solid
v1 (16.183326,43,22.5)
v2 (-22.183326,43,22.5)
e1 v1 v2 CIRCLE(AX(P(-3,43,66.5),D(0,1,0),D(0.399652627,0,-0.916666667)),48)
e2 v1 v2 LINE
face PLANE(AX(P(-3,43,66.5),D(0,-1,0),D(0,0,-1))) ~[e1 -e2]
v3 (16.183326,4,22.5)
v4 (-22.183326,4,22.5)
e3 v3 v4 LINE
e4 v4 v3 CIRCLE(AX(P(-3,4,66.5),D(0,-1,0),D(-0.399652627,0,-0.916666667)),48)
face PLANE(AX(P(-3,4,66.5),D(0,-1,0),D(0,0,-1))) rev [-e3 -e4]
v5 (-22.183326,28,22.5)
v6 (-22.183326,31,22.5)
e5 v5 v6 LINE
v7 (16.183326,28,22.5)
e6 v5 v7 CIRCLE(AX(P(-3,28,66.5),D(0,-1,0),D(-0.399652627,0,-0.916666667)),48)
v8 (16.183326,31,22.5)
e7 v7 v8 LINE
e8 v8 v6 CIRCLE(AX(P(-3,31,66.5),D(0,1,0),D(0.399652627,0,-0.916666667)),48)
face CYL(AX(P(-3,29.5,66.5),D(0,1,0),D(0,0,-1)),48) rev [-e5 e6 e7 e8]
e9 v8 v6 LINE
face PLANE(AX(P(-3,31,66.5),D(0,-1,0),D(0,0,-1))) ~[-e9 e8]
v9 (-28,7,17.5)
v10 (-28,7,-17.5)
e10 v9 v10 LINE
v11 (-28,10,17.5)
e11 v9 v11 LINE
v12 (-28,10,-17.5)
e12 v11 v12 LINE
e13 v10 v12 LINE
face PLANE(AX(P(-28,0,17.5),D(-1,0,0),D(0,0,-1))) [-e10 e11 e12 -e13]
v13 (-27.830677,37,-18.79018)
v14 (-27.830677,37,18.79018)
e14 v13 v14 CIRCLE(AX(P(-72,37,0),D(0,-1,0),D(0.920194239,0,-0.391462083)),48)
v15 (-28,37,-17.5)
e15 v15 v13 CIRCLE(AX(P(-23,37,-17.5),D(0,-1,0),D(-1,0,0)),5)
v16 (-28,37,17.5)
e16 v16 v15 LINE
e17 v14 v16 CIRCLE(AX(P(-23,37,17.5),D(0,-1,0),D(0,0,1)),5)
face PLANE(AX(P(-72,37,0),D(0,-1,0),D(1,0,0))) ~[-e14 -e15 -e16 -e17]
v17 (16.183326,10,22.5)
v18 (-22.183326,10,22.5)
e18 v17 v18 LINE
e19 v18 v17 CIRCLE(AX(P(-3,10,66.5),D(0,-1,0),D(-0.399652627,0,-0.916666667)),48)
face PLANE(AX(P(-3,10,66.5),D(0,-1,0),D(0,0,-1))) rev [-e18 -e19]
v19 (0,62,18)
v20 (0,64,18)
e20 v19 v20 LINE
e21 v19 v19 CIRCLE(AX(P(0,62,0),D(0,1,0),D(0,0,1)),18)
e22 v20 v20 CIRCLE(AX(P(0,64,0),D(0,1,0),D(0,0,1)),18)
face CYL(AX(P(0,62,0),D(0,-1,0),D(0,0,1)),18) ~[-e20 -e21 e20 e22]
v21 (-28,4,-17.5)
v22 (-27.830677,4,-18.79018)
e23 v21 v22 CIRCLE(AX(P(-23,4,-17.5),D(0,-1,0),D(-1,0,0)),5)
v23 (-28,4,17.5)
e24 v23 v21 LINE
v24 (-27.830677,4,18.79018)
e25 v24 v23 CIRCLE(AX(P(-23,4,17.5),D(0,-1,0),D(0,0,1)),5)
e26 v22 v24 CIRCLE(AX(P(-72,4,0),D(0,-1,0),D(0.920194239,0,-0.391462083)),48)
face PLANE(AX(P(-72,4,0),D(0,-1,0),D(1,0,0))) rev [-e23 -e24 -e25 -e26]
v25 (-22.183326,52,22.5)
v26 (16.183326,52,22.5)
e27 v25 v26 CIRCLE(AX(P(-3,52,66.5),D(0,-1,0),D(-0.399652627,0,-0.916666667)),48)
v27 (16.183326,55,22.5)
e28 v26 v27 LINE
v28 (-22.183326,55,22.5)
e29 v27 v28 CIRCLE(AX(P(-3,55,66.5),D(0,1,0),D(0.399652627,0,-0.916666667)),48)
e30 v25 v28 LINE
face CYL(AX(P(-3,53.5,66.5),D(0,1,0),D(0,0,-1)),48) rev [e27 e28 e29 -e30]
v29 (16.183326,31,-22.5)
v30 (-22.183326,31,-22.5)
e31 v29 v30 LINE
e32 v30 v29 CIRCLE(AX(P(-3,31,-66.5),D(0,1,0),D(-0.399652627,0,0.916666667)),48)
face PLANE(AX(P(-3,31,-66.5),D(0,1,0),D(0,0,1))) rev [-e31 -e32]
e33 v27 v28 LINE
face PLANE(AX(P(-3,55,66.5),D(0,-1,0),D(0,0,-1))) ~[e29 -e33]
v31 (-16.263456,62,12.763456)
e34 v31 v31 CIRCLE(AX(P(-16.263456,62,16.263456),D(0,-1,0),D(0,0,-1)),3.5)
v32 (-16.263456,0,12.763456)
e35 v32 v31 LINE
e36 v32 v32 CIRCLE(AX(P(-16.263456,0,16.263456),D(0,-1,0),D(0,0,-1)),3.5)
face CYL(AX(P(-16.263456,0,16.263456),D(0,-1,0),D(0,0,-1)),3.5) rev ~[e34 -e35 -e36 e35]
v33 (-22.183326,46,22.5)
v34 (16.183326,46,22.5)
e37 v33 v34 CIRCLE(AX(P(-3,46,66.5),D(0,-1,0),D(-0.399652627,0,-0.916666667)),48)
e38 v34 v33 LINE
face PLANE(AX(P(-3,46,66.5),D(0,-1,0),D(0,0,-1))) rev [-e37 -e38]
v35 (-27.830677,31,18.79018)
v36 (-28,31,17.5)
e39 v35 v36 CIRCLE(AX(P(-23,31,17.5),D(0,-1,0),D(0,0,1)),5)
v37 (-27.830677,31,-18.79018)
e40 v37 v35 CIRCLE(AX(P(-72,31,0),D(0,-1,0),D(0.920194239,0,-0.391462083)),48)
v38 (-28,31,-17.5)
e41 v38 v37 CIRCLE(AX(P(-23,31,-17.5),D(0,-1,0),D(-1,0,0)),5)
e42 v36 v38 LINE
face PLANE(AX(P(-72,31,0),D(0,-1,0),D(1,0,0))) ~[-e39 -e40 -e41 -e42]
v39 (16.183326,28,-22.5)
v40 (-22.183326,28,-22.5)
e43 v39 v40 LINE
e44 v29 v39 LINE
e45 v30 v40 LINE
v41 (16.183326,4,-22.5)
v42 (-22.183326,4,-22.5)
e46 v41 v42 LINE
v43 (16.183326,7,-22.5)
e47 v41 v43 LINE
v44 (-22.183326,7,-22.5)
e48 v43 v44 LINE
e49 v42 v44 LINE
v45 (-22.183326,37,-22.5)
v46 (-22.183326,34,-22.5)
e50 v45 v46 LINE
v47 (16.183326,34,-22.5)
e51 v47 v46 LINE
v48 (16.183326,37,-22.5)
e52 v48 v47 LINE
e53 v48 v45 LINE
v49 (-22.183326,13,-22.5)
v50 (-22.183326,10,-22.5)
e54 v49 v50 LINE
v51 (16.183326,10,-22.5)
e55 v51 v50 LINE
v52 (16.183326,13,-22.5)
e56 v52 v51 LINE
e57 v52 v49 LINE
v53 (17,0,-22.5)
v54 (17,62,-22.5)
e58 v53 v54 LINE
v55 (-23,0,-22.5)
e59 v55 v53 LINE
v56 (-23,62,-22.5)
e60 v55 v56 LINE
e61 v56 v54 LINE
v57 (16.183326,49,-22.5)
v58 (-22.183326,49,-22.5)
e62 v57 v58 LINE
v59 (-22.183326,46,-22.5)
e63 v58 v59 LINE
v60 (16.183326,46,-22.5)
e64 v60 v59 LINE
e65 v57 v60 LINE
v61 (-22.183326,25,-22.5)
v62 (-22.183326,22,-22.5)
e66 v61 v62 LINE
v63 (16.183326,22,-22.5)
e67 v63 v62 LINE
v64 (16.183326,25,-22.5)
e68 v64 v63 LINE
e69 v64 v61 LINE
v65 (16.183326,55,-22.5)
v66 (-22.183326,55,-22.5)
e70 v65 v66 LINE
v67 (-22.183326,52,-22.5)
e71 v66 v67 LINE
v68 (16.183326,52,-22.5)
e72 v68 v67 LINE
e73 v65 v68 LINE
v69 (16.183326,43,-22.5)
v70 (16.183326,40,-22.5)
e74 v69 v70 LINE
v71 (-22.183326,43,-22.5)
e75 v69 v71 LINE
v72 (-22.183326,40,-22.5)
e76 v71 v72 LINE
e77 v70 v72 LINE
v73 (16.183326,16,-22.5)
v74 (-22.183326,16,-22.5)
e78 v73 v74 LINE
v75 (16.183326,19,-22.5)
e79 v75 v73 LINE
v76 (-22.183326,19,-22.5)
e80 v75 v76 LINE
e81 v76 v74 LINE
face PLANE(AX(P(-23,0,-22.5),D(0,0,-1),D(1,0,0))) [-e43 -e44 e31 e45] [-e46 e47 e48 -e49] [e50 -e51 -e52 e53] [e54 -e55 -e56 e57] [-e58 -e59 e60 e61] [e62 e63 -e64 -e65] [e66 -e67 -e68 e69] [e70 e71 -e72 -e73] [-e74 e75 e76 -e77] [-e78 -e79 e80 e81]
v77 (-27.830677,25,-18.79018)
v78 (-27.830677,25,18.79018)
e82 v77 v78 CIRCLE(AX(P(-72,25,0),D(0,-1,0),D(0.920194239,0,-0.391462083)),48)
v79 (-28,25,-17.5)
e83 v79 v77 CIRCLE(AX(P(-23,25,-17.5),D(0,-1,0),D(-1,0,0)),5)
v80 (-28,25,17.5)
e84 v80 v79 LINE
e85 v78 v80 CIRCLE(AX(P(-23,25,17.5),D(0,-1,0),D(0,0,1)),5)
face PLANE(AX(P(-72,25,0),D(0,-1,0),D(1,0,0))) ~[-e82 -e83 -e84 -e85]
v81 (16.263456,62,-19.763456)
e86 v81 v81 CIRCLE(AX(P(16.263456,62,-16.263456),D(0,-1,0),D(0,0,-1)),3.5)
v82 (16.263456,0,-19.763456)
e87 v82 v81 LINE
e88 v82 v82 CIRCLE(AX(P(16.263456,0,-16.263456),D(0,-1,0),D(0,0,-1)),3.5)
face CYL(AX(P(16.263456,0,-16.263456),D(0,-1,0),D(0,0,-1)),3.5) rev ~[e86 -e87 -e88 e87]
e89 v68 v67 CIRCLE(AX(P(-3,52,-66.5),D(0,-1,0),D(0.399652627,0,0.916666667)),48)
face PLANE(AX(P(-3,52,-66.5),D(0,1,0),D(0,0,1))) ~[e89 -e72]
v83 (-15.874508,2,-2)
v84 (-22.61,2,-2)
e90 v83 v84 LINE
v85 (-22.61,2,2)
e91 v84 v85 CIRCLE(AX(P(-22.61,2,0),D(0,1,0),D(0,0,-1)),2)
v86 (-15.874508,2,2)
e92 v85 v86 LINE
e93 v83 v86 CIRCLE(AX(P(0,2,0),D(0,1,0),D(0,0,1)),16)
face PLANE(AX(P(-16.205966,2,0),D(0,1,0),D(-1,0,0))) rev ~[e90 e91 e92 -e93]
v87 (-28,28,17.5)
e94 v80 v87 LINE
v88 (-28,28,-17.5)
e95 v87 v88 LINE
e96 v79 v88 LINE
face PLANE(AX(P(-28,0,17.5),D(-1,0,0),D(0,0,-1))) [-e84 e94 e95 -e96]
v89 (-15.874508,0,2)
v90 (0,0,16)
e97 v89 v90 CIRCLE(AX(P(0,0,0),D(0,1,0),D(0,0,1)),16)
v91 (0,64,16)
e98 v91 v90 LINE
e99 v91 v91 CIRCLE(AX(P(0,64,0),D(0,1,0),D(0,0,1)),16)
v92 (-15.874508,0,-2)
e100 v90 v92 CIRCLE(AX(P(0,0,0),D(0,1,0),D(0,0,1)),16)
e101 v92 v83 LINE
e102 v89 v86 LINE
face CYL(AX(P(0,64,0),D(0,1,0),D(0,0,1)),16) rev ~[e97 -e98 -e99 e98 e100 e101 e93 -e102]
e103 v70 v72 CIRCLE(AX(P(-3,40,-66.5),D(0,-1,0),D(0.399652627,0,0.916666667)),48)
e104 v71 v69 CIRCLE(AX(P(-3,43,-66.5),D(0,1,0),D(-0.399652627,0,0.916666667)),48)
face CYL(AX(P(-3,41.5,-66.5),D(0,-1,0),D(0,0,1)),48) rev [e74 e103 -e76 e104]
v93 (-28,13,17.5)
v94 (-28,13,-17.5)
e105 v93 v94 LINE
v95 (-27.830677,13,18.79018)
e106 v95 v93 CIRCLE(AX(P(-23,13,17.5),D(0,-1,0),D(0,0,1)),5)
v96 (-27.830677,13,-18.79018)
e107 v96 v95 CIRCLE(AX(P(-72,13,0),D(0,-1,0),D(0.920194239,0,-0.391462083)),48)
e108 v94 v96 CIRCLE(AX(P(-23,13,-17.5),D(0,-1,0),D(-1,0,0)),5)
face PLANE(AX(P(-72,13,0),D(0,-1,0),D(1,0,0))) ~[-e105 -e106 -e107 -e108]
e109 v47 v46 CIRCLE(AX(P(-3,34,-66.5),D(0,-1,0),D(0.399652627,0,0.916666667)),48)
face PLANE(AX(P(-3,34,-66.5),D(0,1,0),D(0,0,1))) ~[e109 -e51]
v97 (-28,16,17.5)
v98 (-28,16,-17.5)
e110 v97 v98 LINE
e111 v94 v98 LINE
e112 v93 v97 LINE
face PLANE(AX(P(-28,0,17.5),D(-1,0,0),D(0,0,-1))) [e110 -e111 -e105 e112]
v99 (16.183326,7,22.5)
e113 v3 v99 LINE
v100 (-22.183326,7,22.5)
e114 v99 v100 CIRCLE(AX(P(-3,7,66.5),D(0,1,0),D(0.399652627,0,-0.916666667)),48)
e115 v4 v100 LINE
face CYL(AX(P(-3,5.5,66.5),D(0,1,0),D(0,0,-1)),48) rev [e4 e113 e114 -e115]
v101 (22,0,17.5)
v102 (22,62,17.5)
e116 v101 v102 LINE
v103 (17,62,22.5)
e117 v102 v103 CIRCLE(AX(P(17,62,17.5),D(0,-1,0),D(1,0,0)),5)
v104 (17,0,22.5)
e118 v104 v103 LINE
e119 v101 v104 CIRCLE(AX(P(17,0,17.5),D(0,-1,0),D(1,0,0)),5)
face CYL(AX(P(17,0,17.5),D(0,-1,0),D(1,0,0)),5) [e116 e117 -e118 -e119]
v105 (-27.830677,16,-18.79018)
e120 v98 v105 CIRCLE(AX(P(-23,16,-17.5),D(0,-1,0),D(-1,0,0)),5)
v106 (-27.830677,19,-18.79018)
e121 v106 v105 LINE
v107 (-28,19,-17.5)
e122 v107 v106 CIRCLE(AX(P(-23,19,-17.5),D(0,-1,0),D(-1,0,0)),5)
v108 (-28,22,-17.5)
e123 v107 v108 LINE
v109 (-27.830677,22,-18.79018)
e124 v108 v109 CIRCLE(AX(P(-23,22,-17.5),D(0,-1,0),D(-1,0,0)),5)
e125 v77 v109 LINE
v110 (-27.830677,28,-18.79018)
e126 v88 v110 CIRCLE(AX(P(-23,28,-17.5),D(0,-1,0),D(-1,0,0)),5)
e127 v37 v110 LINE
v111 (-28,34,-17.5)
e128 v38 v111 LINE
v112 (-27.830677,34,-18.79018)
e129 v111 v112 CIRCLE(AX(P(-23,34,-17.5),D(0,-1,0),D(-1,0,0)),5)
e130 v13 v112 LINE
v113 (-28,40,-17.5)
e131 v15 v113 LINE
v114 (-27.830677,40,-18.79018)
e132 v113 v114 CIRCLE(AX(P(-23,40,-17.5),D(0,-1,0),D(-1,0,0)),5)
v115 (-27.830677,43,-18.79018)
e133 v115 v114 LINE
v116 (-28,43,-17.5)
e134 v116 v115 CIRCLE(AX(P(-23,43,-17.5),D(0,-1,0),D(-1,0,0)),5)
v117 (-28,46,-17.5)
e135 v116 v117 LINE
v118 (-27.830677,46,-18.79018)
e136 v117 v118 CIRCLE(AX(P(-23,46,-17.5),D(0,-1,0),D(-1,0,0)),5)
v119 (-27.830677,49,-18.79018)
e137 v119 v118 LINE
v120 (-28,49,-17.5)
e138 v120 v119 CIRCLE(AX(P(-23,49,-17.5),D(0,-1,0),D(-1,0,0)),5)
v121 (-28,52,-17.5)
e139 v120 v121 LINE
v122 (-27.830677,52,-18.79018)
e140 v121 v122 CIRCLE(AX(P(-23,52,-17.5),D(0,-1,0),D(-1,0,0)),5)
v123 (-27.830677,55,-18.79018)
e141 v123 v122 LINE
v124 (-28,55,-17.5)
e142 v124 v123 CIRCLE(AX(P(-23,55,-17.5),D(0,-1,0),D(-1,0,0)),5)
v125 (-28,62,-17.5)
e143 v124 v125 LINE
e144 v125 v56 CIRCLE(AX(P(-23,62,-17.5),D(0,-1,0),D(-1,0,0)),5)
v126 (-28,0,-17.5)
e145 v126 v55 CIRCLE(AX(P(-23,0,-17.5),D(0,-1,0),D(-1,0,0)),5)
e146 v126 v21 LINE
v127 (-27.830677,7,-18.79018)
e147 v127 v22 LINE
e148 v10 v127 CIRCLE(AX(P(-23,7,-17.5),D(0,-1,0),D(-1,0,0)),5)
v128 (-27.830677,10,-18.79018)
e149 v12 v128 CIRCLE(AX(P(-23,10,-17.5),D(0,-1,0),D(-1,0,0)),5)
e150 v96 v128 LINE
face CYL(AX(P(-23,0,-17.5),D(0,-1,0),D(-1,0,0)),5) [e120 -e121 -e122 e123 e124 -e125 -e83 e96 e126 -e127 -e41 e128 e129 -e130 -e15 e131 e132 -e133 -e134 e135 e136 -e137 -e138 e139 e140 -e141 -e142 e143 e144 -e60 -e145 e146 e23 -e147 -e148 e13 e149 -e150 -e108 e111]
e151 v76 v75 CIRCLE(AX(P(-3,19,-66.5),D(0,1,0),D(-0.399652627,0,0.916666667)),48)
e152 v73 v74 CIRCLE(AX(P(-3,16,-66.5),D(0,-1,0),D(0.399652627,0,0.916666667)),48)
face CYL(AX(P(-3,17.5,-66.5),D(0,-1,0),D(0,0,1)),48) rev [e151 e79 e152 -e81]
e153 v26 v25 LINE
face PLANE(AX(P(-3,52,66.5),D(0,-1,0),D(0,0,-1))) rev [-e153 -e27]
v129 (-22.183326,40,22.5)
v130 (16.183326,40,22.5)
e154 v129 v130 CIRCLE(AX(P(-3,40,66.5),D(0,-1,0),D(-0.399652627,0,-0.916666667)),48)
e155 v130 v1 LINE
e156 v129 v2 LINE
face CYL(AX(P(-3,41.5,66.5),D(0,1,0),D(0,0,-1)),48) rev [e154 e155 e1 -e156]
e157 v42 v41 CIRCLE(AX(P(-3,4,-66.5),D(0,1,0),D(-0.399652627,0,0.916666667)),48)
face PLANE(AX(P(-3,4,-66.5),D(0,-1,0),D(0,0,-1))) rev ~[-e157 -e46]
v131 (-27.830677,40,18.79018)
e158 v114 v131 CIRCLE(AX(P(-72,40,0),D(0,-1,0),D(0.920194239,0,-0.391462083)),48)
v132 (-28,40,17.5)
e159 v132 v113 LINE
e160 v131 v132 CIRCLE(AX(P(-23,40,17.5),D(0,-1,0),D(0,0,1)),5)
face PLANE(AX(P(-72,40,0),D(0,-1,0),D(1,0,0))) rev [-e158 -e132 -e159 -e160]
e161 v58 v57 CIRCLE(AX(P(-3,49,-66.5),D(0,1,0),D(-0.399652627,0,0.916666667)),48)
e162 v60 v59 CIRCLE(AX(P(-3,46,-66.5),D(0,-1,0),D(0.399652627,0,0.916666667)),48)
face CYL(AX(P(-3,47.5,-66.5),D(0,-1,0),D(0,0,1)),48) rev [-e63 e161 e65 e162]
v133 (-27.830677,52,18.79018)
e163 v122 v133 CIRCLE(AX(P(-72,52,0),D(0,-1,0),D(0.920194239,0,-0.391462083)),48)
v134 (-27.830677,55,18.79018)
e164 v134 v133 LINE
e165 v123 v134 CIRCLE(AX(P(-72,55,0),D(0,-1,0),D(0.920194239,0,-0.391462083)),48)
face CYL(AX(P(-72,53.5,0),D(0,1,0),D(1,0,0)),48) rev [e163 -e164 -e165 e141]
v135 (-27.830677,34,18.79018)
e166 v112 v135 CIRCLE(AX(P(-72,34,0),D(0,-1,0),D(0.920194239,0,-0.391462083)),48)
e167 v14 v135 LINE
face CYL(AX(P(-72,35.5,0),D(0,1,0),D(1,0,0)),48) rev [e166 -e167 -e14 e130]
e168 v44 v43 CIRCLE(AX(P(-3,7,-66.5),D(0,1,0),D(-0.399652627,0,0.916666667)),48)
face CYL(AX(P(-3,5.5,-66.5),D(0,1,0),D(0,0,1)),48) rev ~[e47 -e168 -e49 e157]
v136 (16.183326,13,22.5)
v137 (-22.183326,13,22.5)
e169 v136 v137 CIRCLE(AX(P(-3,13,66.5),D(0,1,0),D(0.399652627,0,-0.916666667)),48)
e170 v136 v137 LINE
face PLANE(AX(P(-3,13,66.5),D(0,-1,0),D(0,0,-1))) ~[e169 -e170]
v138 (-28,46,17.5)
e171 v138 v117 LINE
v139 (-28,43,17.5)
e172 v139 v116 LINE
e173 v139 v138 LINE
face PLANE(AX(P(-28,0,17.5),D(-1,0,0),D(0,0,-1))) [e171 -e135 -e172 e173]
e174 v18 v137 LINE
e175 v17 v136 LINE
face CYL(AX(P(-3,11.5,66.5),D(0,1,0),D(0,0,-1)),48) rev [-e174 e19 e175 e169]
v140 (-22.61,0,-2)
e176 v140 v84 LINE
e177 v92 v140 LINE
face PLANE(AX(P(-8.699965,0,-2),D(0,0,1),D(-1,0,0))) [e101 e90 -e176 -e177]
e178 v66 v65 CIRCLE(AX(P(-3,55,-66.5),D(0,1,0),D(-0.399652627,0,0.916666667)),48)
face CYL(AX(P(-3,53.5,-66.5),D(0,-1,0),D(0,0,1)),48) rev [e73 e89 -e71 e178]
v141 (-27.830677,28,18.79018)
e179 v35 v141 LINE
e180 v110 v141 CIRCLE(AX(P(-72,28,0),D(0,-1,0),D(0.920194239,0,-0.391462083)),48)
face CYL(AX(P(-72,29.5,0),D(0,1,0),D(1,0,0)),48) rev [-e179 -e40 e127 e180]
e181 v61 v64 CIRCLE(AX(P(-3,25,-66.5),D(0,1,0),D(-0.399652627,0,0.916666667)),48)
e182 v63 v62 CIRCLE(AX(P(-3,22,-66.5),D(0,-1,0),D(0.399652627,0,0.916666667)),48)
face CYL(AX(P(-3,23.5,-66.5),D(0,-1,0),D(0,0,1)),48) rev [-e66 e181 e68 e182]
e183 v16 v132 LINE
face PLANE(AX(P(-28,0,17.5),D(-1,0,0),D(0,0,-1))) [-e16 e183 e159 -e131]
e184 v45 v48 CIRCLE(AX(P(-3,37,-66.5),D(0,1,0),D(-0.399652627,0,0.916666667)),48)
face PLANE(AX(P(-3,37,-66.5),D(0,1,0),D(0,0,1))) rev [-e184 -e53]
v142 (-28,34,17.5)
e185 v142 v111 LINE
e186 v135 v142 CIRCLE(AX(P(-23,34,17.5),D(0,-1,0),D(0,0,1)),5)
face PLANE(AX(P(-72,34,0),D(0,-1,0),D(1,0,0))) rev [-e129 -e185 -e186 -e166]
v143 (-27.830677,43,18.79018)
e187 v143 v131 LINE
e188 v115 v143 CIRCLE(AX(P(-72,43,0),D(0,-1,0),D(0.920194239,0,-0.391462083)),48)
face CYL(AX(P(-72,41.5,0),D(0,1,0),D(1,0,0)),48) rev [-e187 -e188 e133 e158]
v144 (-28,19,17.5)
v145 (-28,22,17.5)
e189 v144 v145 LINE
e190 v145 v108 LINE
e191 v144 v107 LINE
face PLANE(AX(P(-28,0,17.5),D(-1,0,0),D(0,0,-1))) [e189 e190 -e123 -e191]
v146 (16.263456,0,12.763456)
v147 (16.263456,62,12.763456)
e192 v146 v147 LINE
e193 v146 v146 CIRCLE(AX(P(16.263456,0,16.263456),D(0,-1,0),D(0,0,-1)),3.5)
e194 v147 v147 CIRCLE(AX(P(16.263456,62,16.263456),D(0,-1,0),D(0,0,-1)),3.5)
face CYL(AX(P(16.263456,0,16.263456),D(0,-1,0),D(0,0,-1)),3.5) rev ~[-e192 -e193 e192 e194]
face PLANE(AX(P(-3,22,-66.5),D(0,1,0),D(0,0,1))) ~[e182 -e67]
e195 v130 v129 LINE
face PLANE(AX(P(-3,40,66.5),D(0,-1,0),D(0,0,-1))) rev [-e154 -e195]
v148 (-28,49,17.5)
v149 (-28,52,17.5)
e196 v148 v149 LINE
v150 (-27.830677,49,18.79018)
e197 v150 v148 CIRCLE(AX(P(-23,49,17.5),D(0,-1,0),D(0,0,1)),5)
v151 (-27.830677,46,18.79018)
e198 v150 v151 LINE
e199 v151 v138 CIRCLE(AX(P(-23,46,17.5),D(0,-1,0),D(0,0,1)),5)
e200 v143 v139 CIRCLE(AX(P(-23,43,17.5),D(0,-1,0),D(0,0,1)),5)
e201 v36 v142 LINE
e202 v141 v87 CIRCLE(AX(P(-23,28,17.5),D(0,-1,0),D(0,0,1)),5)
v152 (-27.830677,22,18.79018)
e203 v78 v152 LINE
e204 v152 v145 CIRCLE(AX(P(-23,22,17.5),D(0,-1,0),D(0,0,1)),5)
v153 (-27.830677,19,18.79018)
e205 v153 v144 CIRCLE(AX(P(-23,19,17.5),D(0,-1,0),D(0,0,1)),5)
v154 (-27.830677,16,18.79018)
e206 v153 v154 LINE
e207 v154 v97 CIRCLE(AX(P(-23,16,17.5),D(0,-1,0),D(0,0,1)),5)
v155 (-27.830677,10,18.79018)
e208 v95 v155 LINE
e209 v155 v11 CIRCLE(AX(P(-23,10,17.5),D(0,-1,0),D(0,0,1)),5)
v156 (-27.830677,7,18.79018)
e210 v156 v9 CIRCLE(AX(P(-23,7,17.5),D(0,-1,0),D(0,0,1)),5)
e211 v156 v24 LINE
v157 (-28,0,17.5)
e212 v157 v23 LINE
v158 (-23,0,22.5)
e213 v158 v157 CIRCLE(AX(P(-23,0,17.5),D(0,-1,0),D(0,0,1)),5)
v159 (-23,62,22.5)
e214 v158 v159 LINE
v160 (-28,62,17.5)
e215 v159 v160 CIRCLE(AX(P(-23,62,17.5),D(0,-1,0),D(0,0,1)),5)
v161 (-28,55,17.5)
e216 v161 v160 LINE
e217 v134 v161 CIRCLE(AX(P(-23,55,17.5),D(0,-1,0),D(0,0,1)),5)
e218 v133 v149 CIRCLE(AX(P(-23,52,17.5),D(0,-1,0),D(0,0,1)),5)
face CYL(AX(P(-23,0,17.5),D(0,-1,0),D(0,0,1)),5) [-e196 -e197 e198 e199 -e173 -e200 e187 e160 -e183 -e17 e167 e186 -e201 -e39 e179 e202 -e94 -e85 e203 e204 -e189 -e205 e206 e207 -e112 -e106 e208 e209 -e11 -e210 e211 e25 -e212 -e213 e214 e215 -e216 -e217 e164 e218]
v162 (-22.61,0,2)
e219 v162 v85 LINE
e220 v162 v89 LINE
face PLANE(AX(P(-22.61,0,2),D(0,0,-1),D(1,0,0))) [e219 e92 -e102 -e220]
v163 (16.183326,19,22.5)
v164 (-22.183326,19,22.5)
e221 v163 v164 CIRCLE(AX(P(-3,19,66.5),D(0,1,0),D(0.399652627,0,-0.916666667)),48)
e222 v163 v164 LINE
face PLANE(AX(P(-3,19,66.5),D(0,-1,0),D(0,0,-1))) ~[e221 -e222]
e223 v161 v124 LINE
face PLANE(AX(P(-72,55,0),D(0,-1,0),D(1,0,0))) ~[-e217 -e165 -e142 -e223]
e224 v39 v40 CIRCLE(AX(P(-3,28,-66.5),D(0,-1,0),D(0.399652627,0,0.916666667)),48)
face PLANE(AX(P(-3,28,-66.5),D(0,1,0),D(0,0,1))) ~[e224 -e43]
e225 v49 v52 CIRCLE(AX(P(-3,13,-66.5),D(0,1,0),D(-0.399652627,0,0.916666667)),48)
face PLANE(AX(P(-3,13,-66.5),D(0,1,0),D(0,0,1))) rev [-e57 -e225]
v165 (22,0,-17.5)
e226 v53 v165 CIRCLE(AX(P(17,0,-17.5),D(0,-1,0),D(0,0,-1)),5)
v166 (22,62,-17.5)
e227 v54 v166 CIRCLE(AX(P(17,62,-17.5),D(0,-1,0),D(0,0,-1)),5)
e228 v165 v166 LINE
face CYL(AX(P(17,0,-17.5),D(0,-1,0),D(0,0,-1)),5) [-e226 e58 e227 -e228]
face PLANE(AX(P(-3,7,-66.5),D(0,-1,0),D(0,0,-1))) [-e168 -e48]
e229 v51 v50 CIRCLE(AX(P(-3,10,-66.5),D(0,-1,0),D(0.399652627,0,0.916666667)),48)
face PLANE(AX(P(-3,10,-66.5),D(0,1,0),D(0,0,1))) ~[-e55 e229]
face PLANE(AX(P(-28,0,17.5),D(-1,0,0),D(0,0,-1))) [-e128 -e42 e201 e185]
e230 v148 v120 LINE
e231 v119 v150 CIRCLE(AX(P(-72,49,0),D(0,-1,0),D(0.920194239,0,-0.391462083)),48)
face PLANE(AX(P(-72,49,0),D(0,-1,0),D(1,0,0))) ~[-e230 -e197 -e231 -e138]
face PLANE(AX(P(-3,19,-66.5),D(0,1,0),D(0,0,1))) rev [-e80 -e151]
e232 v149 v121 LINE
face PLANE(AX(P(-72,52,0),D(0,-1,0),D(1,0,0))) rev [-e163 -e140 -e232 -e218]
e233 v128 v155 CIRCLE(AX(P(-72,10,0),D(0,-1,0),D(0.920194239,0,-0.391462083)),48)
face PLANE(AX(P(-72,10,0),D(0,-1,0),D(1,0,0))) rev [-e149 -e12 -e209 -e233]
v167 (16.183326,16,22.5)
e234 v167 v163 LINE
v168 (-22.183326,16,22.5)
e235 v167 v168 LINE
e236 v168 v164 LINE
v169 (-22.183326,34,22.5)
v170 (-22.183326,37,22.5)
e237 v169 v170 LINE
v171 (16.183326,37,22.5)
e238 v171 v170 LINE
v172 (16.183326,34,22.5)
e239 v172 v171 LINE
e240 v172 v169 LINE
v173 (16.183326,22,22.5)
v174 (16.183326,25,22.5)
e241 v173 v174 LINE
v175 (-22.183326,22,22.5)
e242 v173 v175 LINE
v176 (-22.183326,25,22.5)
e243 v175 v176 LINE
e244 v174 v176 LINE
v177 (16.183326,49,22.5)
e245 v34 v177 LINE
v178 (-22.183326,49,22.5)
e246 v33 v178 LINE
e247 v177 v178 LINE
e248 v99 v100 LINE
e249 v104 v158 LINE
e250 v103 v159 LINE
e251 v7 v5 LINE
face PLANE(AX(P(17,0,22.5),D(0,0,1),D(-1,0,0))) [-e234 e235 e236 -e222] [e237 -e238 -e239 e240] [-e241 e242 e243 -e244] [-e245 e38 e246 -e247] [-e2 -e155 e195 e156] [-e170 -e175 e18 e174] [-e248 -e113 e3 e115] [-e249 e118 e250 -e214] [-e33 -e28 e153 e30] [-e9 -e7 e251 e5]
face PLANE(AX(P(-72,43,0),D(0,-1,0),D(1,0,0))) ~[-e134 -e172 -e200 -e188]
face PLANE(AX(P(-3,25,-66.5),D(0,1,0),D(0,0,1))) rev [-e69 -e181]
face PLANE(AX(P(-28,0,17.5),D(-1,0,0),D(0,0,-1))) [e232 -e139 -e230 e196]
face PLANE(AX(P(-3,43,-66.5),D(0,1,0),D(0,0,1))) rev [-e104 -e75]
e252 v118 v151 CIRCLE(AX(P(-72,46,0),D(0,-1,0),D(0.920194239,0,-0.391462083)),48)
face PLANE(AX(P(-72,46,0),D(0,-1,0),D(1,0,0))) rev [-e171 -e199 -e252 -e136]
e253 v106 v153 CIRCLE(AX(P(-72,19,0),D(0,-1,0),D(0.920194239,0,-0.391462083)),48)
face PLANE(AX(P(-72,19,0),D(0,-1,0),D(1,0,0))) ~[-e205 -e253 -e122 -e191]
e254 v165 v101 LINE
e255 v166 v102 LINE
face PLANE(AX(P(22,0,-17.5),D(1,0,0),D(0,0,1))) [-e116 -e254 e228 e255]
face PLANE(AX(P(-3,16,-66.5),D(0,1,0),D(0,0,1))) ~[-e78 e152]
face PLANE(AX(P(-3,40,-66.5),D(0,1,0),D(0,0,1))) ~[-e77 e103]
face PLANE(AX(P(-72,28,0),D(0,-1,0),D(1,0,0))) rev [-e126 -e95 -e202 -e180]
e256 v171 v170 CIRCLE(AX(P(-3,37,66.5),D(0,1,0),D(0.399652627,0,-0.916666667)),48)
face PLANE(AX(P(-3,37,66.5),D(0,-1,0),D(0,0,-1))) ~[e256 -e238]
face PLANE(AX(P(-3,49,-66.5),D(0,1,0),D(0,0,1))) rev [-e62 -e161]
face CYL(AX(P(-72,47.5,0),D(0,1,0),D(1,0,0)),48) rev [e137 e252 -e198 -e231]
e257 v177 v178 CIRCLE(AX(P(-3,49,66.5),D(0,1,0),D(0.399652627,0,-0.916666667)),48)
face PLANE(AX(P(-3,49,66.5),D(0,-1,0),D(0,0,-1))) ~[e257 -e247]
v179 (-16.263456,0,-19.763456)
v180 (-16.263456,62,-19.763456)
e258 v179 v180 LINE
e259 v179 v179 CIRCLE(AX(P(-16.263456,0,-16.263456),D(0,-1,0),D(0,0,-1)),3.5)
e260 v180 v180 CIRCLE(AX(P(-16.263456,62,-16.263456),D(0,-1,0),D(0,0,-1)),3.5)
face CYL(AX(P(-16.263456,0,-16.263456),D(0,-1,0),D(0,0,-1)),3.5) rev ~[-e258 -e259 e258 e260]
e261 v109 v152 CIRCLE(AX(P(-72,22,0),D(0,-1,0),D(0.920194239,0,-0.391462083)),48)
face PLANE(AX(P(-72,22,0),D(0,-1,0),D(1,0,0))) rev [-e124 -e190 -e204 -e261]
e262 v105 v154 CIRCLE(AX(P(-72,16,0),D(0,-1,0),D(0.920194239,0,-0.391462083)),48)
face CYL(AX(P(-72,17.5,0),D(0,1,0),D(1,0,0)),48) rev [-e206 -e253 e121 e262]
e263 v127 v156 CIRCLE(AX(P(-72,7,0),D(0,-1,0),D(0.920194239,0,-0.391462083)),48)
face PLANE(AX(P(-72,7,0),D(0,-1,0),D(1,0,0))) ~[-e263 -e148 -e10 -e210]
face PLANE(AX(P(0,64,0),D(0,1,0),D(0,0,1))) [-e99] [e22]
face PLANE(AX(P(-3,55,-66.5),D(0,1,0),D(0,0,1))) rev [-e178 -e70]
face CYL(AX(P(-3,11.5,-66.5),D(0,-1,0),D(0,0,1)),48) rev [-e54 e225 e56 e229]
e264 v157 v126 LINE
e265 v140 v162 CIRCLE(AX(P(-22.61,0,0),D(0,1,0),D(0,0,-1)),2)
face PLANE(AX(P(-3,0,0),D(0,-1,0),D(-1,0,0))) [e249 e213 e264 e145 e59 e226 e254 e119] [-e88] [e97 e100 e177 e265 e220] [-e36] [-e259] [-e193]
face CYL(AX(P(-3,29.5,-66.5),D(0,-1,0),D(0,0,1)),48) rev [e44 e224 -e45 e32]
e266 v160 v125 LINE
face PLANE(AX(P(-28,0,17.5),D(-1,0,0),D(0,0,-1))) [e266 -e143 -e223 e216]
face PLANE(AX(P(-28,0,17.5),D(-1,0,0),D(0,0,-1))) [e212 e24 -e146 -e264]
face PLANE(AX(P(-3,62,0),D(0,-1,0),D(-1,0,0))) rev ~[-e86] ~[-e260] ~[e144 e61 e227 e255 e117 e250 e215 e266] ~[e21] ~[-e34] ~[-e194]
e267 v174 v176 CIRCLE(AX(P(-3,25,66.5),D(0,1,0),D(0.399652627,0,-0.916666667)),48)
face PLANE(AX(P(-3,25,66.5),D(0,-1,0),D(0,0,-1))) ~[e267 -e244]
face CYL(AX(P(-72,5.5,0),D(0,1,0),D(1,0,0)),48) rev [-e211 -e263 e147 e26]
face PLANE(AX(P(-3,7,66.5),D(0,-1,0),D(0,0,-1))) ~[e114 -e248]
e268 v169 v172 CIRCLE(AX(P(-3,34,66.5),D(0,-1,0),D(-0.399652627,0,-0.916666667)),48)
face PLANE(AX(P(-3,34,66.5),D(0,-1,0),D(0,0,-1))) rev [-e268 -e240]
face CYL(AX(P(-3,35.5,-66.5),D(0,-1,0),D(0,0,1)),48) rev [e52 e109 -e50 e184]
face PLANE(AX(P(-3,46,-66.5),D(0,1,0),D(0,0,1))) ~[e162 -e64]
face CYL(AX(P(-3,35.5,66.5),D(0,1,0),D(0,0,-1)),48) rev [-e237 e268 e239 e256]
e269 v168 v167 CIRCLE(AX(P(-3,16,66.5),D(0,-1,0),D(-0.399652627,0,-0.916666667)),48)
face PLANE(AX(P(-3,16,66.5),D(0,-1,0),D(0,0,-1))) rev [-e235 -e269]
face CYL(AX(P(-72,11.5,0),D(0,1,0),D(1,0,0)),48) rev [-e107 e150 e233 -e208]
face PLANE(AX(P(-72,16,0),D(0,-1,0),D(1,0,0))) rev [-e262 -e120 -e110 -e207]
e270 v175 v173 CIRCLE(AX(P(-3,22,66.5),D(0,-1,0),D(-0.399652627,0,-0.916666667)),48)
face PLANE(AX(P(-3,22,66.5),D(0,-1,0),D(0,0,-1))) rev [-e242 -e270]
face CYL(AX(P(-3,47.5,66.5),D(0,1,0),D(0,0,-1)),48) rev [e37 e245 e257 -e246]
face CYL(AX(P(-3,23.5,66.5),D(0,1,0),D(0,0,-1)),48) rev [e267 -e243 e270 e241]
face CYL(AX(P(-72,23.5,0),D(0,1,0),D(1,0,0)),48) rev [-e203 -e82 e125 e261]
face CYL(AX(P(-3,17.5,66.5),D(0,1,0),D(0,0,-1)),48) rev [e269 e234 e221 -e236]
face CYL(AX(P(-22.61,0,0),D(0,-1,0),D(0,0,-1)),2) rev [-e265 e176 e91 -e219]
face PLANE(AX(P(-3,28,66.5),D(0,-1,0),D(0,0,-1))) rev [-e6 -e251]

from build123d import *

# Parameters (mm, degrees)
BOSS_EXTRUDE1_DEPTH     = 62
SKETCH2_R               = 18
BOSS_EXTRUDE2_DEPTH     = 2
SKETCH3_R               = 16
CUT_EXTRUDE1_DEPTH      = 74.391075752
CUT_EXTRUDE2_DEPTH      = 2
SKETCH5_R               = 3.5
CUT_EXTRUDE3_DEPTH      = 74.391075752
SKETCH6_W               = 48
SKETCH6_H               = 3
LPATTERN1_COUNT         = 9
LPATTERN1_PITCH         = 6
MIRROR1_COPY_1_SKETCH_W = 48
MIRROR1_COPY_1_SKETCH_H = 3
MIRROR1_COPY_2_SKETCH_W = 48
MIRROR1_COPY_2_SKETCH_H = 3
MIRROR1_COPY_3_SKETCH_W = 48
MIRROR1_COPY_3_SKETCH_H = 3
MIRROR1_COPY_4_SKETCH_W = 48
MIRROR1_COPY_4_SKETCH_H = 3
MIRROR1_COPY_5_SKETCH_W = 48
MIRROR1_COPY_5_SKETCH_H = 3
MIRROR1_COPY_6_SKETCH_W = 48
MIRROR1_COPY_6_SKETCH_H = 3
MIRROR1_COPY_7_SKETCH_W = 48
MIRROR1_COPY_7_SKETCH_H = 3
MIRROR1_COPY_8_SKETCH_W = 48
MIRROR1_COPY_8_SKETCH_H = 3
SKETCH8_W               = 48
SKETCH8_H               = 3
LPATTERN2_COUNT         = 9
LPATTERN2_PITCH         = 6


with BuildPart() as part:
    # Sketch1 → Boss-Extrude1 (new body)
    with BuildSketch(Plane(origin=(0, 0, 0), x_dir=(1, 0, 0), z_dir=(0, 1, 0))):
        with BuildLine():
            Line((-23, 22.5), (17, 22.5))
            ThreePointArc((17, 22.5), (20.535533906, 21.035533906), (22, 17.5))
            Line((22, 17.5), (22, -17.5))
            ThreePointArc((22, -17.5), (20.535533906, -21.035533906), (17, -22.5))
            Line((17, -22.5), (-23, -22.5))
            ThreePointArc((-23, -22.5), (-26.535533906, -21.035533906), (-28, -17.5))
            Line((-28, -17.5), (-28, 17.5))
            ThreePointArc((-28, 17.5), (-26.535533906, 21.035533906), (-23, 22.5))
        make_face()
    extrude(amount=BOSS_EXTRUDE1_DEPTH)

    # Sketch2 → Boss-Extrude2 (add)
    with BuildSketch(Plane(origin=(0, 62, 0), x_dir=(1, 0, 0), z_dir=(0, 1, 0))):
        with Locations(Location((0, 0, 0), (0, 0, 270))):
            Circle(SKETCH2_R)
    extrude(amount=BOSS_EXTRUDE2_DEPTH)

    # Sketch3 → Cut-Extrude1 (cut, through all)
    with BuildSketch(Plane(origin=(0, 64, 0), x_dir=(1, 0, 0), z_dir=(0, 1, 0))):
        with Locations(Location((0, 0, 0), (0, 0, 270))):
            Circle(SKETCH3_R)
    extrude(amount=-CUT_EXTRUDE1_DEPTH, mode=Mode.SUBTRACT)

    # Sketch4 → Cut-Extrude2 (cut)
    with BuildSketch(Plane.XZ):
        with BuildLine():
            Line((-22.61, 2), (-8.699965398, 2))
            Line((-8.699965398, 2), (-8.699965398, -2))
            Line((-8.699965398, -2), (-22.61, -2))
            ThreePointArc((-22.61, -2), (-24.61, 0), (-22.61, 2))
        make_face()
    extrude(amount=-CUT_EXTRUDE2_DEPTH, mode=Mode.SUBTRACT)

    # Sketch5 → Cut-Extrude3 (cut, through all)
    with BuildSketch(Plane.XZ):
        with Locations(Location((16.263455967, 16.263455967, 0), (0, 0, 270))):
            Circle(SKETCH5_R)
        with Locations(Location((16.263455967, -16.263455967, 0), (0, 0, 270))):
            Circle(SKETCH5_R)
        with Locations(Location((-16.263455967, -16.263455967, 0), (0, 0, 270))):
            Circle(SKETCH5_R)
        with Locations(Location((-16.263455967, 16.263455967, 0), (0, 0, 270))):
            Circle(SKETCH5_R)
    extrude(amount=-CUT_EXTRUDE3_DEPTH, mode=Mode.SUBTRACT)

    # Sketch6 → Cut-Revolve1 (revolve, cut)
    with BuildSketch(Plane(origin=(-3, 0, 0), x_dir=(0, 0, -1), z_dir=(1, 0, 0))):
        with Locations((-42.5, 5.5)):
            Rectangle(SKETCH6_W, SKETCH6_H)
    cut_revolve1 = revolve(axis=Axis((-3, 7, 66.5), (0, -1, 0)), mode=Mode.SUBTRACT)

    # LPattern1: Cut-Revolve1 ×9
    with Locations(*[(0, i * LPATTERN1_PITCH, 0) for i in range(1, LPATTERN1_COUNT)]):
        add(cut_revolve1, mode=Mode.SUBTRACT)

    # Mirror1: Cut-Revolve1 across plane
    add(cut_revolve1.mirror(Plane.XY), mode=Mode.SUBTRACT)

    # Mirror1 copy 1 sketch → Mirror1 copy 1 (revolve, cut)
    with BuildSketch(Plane(origin=(-3, 6, 0), x_dir=(0, 0, 1), z_dir=(1, 0, 0))):
        with Locations((-42.5, -5.5)):
            Rectangle(MIRROR1_COPY_1_SKETCH_W, MIRROR1_COPY_1_SKETCH_H)
    revolve(axis=Axis((-3, 13, -66.5), (0, 1, 0)), mode=Mode.SUBTRACT)

    # Mirror1 copy 2 sketch → Mirror1 copy 2 (revolve, cut)
    with BuildSketch(Plane(origin=(-3, 12, 0), x_dir=(0, 0, 1), z_dir=(1, 0, 0))):
        with Locations((-42.5, -5.5)):
            Rectangle(MIRROR1_COPY_2_SKETCH_W, MIRROR1_COPY_2_SKETCH_H)
    revolve(axis=Axis((-3, 19, -66.5), (0, 1, 0)), mode=Mode.SUBTRACT)

    # Mirror1 copy 3 sketch → Mirror1 copy 3 (revolve, cut)
    with BuildSketch(Plane(origin=(-3, 18, 0), x_dir=(0, 0, 1), z_dir=(1, 0, 0))):
        with Locations((-42.5, -5.5)):
            Rectangle(MIRROR1_COPY_3_SKETCH_W, MIRROR1_COPY_3_SKETCH_H)
    revolve(axis=Axis((-3, 25, -66.5), (0, 1, 0)), mode=Mode.SUBTRACT)

    # Mirror1 copy 4 sketch → Mirror1 copy 4 (revolve, cut)
    with BuildSketch(Plane(origin=(-3, 24, 0), x_dir=(0, 0, 1), z_dir=(1, 0, 0))):
        with Locations((-42.5, -5.5)):
            Rectangle(MIRROR1_COPY_4_SKETCH_W, MIRROR1_COPY_4_SKETCH_H)
    revolve(axis=Axis((-3, 31, -66.5), (0, 1, 0)), mode=Mode.SUBTRACT)

    # Mirror1 copy 5 sketch → Mirror1 copy 5 (revolve, cut)
    with BuildSketch(Plane(origin=(-3, 30, 0), x_dir=(0, 0, 1), z_dir=(1, 0, 0))):
        with Locations((-42.5, -5.5)):
            Rectangle(MIRROR1_COPY_5_SKETCH_W, MIRROR1_COPY_5_SKETCH_H)
    revolve(axis=Axis((-3, 37, -66.5), (0, 1, 0)), mode=Mode.SUBTRACT)

    # Mirror1 copy 6 sketch → Mirror1 copy 6 (revolve, cut)
    with BuildSketch(Plane(origin=(-3, 36, 0), x_dir=(0, 0, 1), z_dir=(1, 0, 0))):
        with Locations((-42.5, -5.5)):
            Rectangle(MIRROR1_COPY_6_SKETCH_W, MIRROR1_COPY_6_SKETCH_H)
    revolve(axis=Axis((-3, 43, -66.5), (0, 1, 0)), mode=Mode.SUBTRACT)

    # Mirror1 copy 7 sketch → Mirror1 copy 7 (revolve, cut)
    with BuildSketch(Plane(origin=(-3, 42, 0), x_dir=(0, 0, 1), z_dir=(1, 0, 0))):
        with Locations((-42.5, -5.5)):
            Rectangle(MIRROR1_COPY_7_SKETCH_W, MIRROR1_COPY_7_SKETCH_H)
    revolve(axis=Axis((-3, 49, -66.5), (0, 1, 0)), mode=Mode.SUBTRACT)

    # Mirror1 copy 8 sketch → Mirror1 copy 8 (revolve, cut)
    with BuildSketch(Plane(origin=(-3, 48, 0), x_dir=(0, 0, 1), z_dir=(1, 0, 0))):
        with Locations((-42.5, -5.5)):
            Rectangle(MIRROR1_COPY_8_SKETCH_W, MIRROR1_COPY_8_SKETCH_H)
    revolve(axis=Axis((-3, 55, -66.5), (0, 1, 0)), mode=Mode.SUBTRACT)

    # Sketch8 → Cut-Revolve3 (revolve, cut)
    with BuildSketch(Plane.XY):
        with Locations((-48, 5.5)):
            Rectangle(SKETCH8_W, SKETCH8_H)
    cut_revolve3 = revolve(axis=Axis((-72, 7, 0), (0, -1, 0)), mode=Mode.SUBTRACT)

    # LPattern2: Cut-Revolve3 ×9
    with Locations(*[(0, i * LPATTERN2_PITCH, 0) for i in range(1, LPATTERN2_COUNT)]):
        add(cut_revolve3, mode=Mode.SUBTRACT)


solid = part.part
